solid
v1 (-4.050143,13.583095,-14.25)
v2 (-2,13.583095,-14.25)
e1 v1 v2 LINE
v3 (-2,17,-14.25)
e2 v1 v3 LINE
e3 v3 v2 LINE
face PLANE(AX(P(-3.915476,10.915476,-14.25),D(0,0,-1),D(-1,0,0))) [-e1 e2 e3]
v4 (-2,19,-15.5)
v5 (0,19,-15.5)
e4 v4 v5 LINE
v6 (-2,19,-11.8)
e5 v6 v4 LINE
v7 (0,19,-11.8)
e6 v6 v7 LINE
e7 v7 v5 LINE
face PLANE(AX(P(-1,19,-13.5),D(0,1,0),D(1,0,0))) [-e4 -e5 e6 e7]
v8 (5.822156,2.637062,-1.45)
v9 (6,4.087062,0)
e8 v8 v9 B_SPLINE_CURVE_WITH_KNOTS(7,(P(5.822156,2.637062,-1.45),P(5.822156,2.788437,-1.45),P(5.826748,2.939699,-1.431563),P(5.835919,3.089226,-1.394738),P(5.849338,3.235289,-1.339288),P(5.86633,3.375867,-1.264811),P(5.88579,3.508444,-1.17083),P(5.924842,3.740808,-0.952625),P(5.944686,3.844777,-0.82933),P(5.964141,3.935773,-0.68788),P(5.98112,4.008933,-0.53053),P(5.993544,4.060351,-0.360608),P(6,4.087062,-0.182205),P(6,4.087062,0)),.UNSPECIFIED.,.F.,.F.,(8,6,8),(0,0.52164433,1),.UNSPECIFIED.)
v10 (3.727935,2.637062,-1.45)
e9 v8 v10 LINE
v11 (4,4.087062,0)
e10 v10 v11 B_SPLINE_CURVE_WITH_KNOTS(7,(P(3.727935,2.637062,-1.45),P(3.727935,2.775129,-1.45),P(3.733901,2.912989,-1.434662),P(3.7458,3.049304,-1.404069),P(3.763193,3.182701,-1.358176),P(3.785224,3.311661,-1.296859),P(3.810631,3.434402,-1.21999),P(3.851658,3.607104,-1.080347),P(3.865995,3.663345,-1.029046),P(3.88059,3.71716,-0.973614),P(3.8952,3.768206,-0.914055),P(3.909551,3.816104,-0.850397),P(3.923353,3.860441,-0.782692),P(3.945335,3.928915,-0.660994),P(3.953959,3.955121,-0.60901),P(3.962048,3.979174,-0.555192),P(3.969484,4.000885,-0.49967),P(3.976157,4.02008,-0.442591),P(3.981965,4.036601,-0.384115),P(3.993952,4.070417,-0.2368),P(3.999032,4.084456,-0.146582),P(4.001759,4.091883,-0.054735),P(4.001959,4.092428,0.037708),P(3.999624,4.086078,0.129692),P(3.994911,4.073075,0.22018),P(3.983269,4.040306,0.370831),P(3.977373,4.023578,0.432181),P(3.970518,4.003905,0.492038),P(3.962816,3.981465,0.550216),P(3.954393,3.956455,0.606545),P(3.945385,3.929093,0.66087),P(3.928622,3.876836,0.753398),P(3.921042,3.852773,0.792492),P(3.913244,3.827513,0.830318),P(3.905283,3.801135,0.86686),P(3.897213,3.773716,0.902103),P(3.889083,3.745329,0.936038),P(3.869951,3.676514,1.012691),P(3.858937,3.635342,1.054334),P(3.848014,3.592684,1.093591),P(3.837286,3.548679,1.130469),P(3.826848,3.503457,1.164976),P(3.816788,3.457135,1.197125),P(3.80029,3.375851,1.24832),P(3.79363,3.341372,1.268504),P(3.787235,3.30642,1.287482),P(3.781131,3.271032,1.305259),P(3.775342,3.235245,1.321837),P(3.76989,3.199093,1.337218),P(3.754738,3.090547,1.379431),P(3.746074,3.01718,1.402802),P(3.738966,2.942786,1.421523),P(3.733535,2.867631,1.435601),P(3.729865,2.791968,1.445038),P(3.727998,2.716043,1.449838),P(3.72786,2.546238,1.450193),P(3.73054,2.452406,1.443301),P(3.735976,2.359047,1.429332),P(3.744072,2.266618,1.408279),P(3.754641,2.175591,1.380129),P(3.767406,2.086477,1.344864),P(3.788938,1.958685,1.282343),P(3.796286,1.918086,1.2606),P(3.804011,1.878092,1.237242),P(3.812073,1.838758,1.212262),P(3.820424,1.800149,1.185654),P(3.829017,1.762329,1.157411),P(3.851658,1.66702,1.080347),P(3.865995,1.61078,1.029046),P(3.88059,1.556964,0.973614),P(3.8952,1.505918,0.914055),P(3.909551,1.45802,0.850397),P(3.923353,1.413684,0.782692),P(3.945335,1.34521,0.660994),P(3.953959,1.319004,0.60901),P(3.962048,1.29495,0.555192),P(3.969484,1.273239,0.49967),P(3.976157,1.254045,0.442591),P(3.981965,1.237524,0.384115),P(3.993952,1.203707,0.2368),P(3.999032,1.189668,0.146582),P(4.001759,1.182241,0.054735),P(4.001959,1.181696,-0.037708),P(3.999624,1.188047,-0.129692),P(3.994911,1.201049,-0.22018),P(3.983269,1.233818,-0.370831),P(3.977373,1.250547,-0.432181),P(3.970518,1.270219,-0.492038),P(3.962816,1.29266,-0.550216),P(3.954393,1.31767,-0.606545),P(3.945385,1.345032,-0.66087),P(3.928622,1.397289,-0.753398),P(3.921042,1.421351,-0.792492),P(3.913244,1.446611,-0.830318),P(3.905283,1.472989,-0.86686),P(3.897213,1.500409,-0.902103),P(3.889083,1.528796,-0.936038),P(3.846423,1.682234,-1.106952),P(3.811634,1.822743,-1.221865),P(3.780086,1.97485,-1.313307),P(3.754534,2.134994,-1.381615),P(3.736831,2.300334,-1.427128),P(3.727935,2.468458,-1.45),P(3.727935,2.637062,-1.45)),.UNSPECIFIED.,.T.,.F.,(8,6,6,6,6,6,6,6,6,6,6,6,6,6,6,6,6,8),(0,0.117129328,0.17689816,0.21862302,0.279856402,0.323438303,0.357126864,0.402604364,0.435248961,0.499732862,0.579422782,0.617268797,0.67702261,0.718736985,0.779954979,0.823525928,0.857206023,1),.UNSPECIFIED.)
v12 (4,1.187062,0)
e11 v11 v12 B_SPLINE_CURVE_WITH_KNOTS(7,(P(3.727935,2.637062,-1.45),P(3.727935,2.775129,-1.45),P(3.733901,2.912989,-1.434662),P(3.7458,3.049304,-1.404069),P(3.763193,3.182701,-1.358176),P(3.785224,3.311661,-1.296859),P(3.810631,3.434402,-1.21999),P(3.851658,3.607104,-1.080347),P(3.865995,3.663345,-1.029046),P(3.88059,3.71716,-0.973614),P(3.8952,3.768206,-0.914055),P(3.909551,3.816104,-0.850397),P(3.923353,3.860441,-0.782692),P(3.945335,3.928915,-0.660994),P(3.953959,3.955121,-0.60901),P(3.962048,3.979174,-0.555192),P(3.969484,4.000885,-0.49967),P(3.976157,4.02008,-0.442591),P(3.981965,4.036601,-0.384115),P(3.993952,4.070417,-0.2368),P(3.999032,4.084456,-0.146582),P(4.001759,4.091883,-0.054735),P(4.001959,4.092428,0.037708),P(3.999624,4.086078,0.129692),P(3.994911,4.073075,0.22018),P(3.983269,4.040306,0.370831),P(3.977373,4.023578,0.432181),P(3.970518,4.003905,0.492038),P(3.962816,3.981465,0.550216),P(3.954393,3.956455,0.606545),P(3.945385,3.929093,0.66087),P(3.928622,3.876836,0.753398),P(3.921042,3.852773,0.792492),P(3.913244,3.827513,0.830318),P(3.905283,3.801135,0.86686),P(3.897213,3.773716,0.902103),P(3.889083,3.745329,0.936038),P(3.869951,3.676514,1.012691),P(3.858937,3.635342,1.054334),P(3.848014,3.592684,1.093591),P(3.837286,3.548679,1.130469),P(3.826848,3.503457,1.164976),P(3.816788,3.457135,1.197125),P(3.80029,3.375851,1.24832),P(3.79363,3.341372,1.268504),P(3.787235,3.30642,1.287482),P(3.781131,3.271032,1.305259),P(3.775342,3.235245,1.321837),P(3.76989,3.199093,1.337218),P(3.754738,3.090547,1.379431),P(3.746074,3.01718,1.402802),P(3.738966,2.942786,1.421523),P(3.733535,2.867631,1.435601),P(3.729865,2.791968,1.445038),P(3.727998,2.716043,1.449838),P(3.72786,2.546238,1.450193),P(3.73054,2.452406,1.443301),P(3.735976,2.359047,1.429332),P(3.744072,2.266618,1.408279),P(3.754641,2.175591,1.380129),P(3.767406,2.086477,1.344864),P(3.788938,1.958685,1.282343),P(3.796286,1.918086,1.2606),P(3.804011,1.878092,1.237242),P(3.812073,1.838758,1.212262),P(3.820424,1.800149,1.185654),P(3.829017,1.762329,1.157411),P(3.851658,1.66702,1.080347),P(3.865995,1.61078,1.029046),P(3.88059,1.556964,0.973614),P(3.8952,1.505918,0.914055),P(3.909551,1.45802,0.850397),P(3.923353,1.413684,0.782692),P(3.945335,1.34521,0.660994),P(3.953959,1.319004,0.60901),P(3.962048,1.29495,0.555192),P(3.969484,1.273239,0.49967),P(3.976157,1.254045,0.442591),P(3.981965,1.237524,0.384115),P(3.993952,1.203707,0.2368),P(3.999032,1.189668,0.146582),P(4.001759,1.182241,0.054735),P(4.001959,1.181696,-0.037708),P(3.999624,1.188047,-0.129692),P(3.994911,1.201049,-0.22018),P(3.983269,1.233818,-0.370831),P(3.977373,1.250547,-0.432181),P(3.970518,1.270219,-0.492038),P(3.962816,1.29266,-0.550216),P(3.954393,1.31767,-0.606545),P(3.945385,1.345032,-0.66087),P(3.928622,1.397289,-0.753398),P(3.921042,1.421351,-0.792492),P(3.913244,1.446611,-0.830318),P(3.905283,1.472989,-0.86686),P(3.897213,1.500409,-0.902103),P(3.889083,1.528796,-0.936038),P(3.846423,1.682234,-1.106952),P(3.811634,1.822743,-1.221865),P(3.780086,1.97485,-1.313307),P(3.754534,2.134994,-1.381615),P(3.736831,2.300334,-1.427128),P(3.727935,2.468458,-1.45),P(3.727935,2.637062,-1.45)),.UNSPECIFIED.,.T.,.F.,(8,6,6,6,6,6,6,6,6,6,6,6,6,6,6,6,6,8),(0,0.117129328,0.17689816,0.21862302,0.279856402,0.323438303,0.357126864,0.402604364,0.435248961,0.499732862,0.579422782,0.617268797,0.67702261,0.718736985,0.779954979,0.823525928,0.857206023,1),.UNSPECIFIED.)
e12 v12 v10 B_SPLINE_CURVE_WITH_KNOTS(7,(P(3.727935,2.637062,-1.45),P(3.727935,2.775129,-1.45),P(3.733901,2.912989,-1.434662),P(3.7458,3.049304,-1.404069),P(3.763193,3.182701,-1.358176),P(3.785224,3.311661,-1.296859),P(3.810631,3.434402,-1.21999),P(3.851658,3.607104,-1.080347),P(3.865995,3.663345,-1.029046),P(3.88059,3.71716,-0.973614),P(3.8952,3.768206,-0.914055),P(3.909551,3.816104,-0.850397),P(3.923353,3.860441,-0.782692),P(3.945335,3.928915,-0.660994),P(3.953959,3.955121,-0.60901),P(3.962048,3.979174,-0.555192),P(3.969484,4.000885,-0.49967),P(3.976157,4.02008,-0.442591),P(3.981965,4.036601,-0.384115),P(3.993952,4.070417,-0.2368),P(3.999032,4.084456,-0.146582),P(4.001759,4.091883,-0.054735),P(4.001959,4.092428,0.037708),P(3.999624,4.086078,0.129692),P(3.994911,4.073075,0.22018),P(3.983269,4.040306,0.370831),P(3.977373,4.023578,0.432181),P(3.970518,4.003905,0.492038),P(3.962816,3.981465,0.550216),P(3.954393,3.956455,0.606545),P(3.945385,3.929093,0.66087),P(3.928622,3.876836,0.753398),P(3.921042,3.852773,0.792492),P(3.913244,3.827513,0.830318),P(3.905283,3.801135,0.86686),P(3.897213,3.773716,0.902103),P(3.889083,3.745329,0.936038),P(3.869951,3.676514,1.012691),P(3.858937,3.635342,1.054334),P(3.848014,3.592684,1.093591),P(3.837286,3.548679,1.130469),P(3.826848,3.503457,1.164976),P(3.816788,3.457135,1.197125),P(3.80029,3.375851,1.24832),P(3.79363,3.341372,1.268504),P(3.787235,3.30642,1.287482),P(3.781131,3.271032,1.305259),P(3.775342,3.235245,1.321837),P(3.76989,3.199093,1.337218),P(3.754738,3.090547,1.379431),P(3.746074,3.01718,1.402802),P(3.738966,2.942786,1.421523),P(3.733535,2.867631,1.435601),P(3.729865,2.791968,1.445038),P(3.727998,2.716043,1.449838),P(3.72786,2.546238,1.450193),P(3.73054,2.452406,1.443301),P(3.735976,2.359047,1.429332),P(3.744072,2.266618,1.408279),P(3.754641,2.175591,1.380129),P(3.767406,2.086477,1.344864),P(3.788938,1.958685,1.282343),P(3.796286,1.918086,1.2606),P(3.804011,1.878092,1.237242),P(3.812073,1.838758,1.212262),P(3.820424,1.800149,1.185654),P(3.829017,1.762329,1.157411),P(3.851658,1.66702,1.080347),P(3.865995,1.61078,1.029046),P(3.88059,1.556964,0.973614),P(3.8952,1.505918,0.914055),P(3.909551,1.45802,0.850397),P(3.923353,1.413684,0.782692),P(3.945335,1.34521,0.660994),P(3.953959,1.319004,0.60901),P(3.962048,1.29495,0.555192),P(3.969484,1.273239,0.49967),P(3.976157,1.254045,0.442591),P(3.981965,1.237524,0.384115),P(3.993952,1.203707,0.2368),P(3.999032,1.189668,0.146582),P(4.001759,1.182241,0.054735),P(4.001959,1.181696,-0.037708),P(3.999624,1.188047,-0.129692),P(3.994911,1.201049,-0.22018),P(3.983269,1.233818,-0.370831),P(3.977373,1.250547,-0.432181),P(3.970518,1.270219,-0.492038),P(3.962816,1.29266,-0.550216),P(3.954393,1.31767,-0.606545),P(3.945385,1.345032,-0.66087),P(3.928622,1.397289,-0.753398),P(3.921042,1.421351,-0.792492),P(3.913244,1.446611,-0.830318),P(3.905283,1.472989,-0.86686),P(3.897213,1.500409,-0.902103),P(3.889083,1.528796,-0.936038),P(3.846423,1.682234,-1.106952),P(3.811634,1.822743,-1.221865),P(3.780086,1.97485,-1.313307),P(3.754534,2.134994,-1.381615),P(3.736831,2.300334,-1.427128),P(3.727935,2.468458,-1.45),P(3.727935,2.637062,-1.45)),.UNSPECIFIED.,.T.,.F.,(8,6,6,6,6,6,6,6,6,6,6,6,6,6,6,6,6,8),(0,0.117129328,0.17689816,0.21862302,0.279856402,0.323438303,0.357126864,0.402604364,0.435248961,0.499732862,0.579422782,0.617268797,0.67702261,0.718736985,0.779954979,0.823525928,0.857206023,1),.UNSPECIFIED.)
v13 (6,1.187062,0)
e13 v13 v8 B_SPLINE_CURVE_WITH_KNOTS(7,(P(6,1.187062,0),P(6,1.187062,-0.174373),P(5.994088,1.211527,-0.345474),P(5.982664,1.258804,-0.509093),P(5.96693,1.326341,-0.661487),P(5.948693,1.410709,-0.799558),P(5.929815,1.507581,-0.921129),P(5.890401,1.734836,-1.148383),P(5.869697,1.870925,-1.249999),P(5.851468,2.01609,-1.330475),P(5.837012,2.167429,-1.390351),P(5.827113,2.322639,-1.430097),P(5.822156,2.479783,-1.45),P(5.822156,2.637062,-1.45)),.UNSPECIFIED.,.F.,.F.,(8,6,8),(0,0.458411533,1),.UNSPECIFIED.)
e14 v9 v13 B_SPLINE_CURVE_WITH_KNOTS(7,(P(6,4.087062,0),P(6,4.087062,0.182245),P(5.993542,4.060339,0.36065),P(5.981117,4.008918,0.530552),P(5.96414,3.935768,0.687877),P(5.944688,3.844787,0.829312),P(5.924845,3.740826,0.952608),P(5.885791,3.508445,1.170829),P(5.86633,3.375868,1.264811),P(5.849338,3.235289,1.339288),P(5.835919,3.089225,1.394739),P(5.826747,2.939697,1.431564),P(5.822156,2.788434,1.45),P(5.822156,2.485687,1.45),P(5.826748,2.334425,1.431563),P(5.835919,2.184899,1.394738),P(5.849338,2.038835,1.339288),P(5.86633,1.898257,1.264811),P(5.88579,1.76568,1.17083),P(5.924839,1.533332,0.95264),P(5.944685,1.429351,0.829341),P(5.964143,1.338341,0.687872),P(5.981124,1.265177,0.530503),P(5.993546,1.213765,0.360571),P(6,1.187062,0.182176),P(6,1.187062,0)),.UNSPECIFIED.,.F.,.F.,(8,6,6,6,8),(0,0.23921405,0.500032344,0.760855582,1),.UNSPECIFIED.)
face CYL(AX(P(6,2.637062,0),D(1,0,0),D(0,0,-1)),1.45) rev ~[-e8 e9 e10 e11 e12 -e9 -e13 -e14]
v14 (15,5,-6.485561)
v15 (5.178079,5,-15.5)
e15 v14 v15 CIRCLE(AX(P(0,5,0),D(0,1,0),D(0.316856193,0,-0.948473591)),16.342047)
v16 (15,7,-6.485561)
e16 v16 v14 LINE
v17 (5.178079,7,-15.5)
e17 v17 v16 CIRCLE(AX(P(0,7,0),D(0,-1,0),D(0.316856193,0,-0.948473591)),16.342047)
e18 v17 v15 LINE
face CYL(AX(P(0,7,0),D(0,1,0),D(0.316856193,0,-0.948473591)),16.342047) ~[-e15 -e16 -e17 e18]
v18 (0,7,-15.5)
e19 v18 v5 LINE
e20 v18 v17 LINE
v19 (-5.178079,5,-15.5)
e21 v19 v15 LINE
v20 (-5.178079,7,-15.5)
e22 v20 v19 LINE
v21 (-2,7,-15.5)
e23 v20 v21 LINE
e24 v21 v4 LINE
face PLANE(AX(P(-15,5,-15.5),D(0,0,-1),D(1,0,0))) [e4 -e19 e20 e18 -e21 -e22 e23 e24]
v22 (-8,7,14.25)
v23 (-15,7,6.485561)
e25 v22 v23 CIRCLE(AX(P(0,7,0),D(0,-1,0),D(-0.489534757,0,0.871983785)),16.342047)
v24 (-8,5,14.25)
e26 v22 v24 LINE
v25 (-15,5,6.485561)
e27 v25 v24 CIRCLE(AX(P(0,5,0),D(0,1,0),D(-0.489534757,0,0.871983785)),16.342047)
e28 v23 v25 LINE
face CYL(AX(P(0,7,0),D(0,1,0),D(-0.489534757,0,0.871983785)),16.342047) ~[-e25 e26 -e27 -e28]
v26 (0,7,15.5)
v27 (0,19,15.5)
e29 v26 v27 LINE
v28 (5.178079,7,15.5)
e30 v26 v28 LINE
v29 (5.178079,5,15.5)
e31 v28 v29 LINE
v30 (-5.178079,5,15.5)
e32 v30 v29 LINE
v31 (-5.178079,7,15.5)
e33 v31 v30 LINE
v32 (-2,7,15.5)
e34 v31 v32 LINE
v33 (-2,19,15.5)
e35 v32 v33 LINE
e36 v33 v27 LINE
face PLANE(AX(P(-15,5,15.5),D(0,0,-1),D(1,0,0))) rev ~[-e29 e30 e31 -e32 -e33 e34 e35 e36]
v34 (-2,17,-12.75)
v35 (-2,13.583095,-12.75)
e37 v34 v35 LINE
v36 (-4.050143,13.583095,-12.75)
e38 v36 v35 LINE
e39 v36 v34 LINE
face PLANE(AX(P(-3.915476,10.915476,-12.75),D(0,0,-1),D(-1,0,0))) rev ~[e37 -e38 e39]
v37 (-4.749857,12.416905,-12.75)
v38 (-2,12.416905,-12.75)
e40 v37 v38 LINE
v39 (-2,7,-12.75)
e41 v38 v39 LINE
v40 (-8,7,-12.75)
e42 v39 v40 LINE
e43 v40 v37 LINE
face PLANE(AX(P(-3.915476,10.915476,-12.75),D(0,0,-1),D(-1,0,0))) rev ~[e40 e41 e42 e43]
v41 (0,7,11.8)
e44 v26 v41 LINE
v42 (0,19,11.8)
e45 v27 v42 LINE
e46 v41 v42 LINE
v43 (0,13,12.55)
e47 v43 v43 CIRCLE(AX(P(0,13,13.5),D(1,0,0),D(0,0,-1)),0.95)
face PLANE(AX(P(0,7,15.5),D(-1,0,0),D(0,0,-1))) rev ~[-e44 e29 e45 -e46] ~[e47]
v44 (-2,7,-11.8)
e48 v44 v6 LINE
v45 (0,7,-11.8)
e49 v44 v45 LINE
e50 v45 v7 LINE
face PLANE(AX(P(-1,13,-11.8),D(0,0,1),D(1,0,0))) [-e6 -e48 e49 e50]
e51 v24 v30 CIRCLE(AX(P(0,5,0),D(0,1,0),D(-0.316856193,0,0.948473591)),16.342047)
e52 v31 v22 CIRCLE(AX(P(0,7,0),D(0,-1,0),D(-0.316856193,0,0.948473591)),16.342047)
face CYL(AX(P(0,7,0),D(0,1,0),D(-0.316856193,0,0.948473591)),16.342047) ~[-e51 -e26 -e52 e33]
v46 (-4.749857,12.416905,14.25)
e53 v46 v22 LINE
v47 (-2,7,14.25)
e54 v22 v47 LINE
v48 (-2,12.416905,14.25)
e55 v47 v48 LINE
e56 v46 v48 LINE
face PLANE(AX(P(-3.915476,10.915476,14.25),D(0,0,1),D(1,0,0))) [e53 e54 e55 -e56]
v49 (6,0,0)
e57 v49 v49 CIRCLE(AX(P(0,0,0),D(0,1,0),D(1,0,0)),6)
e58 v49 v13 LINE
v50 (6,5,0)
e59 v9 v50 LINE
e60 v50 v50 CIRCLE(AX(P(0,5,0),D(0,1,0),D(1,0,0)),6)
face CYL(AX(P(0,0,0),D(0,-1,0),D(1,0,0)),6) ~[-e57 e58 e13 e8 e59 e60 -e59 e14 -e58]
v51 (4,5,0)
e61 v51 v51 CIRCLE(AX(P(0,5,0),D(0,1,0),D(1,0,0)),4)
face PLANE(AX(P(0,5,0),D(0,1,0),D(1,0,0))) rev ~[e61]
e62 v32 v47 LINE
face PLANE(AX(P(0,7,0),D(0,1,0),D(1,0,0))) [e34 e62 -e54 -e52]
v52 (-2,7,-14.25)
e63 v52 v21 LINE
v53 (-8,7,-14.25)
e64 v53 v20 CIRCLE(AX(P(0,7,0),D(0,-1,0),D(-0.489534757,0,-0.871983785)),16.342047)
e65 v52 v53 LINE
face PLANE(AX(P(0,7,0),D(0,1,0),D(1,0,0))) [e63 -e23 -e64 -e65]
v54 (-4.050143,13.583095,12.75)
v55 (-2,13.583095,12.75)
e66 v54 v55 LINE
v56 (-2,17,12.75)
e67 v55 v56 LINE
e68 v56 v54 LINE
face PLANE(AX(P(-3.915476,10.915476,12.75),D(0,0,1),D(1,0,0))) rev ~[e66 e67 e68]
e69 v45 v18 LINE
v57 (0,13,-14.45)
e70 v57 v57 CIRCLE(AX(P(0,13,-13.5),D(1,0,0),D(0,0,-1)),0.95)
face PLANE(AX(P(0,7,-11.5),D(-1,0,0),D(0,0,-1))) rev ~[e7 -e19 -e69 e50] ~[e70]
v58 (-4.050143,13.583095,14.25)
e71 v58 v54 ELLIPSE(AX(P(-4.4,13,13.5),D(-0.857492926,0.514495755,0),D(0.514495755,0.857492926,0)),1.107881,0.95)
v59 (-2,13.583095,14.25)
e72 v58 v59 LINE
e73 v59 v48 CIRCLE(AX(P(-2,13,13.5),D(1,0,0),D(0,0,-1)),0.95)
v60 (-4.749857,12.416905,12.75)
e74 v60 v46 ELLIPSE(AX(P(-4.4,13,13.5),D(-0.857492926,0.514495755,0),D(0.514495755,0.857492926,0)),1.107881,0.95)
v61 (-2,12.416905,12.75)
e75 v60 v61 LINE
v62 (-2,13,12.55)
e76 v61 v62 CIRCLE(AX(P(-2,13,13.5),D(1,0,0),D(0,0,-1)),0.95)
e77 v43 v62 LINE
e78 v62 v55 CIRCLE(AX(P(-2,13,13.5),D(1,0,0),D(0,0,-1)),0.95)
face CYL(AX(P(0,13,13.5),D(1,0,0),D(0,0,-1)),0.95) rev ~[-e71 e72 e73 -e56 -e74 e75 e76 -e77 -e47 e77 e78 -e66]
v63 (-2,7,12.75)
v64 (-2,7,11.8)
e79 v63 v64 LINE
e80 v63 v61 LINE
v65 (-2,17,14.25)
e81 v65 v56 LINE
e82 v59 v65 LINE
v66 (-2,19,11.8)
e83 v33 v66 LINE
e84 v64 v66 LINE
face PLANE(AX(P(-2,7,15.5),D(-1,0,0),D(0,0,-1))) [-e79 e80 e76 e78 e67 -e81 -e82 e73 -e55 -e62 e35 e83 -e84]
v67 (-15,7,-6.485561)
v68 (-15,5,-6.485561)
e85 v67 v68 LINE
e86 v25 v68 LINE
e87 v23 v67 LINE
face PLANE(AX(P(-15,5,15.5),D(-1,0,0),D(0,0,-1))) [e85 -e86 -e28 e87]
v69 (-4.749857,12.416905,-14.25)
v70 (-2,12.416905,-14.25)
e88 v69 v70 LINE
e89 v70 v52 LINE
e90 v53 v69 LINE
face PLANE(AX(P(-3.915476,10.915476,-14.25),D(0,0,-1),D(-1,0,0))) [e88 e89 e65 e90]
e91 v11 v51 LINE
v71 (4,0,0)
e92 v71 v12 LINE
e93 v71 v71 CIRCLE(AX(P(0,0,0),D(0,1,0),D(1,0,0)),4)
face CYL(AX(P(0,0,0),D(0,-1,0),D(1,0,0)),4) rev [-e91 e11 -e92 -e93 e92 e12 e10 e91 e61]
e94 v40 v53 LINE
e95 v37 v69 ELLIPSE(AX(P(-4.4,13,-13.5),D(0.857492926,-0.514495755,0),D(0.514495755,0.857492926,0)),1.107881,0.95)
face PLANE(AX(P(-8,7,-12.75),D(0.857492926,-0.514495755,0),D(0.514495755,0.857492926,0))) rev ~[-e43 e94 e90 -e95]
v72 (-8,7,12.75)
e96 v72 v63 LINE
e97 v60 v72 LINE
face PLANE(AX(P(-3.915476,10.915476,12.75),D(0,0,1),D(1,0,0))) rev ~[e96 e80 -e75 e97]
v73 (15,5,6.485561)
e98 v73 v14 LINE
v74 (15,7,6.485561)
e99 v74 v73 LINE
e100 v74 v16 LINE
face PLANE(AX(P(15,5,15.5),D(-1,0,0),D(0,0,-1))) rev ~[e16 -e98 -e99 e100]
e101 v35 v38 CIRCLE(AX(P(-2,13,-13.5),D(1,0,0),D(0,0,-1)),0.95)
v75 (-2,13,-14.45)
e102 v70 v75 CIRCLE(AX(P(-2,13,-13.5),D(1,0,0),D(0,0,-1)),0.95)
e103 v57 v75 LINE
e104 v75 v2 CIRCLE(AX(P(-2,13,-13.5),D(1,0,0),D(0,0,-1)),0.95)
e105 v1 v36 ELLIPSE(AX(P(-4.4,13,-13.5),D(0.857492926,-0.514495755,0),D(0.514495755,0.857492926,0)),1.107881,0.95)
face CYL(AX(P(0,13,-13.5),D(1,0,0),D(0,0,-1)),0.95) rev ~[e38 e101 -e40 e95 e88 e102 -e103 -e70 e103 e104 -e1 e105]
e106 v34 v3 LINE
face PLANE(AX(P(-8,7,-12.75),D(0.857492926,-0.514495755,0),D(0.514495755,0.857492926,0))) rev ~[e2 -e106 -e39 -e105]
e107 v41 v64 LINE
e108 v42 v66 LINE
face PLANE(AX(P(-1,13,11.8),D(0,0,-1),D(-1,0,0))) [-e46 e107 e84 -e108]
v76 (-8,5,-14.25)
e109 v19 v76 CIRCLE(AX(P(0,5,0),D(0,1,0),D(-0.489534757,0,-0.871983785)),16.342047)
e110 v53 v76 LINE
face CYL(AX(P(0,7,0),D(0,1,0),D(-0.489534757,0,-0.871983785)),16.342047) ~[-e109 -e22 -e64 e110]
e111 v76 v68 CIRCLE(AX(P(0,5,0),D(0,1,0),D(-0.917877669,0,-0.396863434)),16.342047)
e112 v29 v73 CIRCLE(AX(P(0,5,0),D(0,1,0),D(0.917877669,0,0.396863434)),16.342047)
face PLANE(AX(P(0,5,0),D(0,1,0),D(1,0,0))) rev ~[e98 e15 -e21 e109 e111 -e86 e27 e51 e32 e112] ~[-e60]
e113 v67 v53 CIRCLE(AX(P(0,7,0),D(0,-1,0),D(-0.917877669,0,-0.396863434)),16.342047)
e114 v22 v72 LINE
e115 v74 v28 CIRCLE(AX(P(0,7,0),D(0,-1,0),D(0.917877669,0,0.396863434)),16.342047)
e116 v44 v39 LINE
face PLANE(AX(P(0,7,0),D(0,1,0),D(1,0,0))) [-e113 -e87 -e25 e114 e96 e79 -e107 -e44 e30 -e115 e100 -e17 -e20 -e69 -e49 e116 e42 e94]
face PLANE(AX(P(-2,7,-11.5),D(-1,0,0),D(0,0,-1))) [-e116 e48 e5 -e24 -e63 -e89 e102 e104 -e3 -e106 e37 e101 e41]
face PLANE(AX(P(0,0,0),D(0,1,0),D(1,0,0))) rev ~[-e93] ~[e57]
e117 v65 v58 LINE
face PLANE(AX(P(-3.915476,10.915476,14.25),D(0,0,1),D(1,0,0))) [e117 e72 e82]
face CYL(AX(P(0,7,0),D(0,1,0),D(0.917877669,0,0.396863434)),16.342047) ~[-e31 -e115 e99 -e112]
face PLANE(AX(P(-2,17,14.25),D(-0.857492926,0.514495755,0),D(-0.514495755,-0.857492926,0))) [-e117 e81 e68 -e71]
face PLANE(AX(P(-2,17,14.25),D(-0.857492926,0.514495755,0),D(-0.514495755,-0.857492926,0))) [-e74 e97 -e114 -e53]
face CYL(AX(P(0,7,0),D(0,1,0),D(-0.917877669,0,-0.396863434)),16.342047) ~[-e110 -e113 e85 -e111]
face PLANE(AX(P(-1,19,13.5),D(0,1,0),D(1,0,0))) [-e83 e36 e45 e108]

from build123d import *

# Parameters (mm, degrees)
SKETCH_1_R               = 6
SKETCH_1_R_2             = 4
EXTRUDE_1_DEPTH          = 5
CUT_EXTRUDE_1_REACH      = 16.318
CUT_EXTRUDE_1_END_RADIUS = 4
SKETCH_2_R               = 1.45
SKETCH_3_W               = 30
SKETCH_3_H               = 31
SKETCH_3_R               = 6
EXTRUDE_1_2_DEPTH        = 2
SKETCH_6_W               = 2
SKETCH_6_H               = 4
EXTRUDE_2_DEPTH          = 12
EXTRUDE_3_DEPTH          = 1.5
EXTRUDE_START            = -1.25
EXTRUDE_4_DEPTH          = 1.5
CUT_EXTRUDE_3_REACH      = 30.745
SKETCH_11_R              = 0.95
CUT_EXTRUDE_4_REACH      = 30.745
SKETCH_12_R              = 0.95
CUT_EXTRUDE_5_REACH      = 26.683
SKETCH_14_W              = 2
SKETCH_14_H              = 12
CUT_EXTRUDE_6_DEPTH      = 0.3
SKETCH_15_W              = 2
SKETCH_15_H              = 12
CUT_EXTRUDE_7_DEPTH      = 0.3


with BuildPart() as part:
    # 草图1 → Extrude 1 (new body)
    with BuildSketch(Plane(origin=(0, 0, 0), x_dir=(1, 0, 0), z_dir=(0, 1, 0))):
        Circle(SKETCH_1_R)
        Circle(SKETCH_1_R_2, mode=Mode.SUBTRACT)
    extrude(amount=EXTRUDE_1_DEPTH)

    # 切除-拉伸1: up to this cylinder (the profile starts outside it)
    cut_extrude_1_end = Plane(origin=(0, 2.637062, 0), z_dir=(0, -1, 0)) * Cylinder(CUT_EXTRUDE_1_END_RADIUS, 41.636, mode=Mode.PRIVATE)
    # 草图2 → 切除-拉伸1 (cut, up to the surface)
    with BuildSketch(Plane(origin=(6, 0, 0), x_dir=(0, 0, -1), z_dir=(1, 0, 0)), mode=Mode.PRIVATE) as cut_extrude_1_sk1:
        with Locations((0, 2.637062232)):
            Circle(SKETCH_2_R)
    cut_extrude_1_tool1 = extrude(cut_extrude_1_sk1.sketch, amount=-CUT_EXTRUDE_1_REACH, mode=Mode.PRIVATE) - cut_extrude_1_end
    add(cut_extrude_1_tool1.solids().sort_by_distance((6, 2.637062, 0))[0], mode=Mode.SUBTRACT)

    # 草图3 → Extrude 1 2 (add)
    # profile 1 of 2: a face of its own
    with BuildSketch(Plane(origin=(0, 5, 0), x_dir=(1, 0, 0), z_dir=(0, 1, 0))):
        Rectangle(SKETCH_3_W, SKETCH_3_H)
        Circle(SKETCH_3_R, mode=Mode.SUBTRACT)
    # profile 2 of 2: a face of its own
    with BuildSketch(Plane(origin=(0, 5, 0), x_dir=(1, 0, 0), z_dir=(0, 1, 0))):
        Circle(SKETCH_3_R)
    extrude(amount=EXTRUDE_1_2_DEPTH)

    # 草图6 → 凸台-拉伸2 (add)
    with BuildSketch(Plane(origin=(0, 7, 0), x_dir=(1, 0, 0), z_dir=(0, 1, 0))):
        with Locations((-1, 13.5)):
            Rectangle(SKETCH_6_W, SKETCH_6_H)
        with Locations((-1, -13.5)):
            Rectangle(SKETCH_6_W, SKETCH_6_H)
    extrude(amount=EXTRUDE_2_DEPTH)

    # 草图9 → 凸台-拉伸3 (add)
    with BuildSketch(Plane.XY.offset(-12.75)):
        Polygon((-2, 7), (-8, 7), (-2, 17), align=None)
    extrude(amount=-EXTRUDE_3_DEPTH)

    # 草图10 → 凸台-拉伸4 (add)
    with BuildSketch(Plane.XY.offset(15.5).offset(EXTRUDE_START)):
        Polygon((-2, 7), (-2, 17), (-8, 7), align=None)
    extrude(amount=-EXTRUDE_4_DEPTH)

    # 草图11 → 切除-拉伸3 (cut, up to next)
    with BuildSketch(Plane(origin=(0, 0, 0), x_dir=(0, 0, -1), z_dir=(1, 0, 0)), mode=Mode.PRIVATE) as cut_extrude_3_sk1:
        with Locations((-13.5, 13)):
            Circle(SKETCH_11_R)
    cut_extrude_3_tool1 = extrude(cut_extrude_3_sk1.sketch, amount=-CUT_EXTRUDE_3_REACH, mode=Mode.PRIVATE) & part.part
    add(cut_extrude_3_tool1.solids().sort_by_distance((0, 13, 13.5))[0], mode=Mode.SUBTRACT)

    # 草图12 → 切除-拉伸4 (cut, up to next)
    with BuildSketch(Plane(origin=(0, 0, 0), x_dir=(0, 0, -1), z_dir=(1, 0, 0)), mode=Mode.PRIVATE) as cut_extrude_4_sk1:
        with Locations((13.5, 13)):
            Circle(SKETCH_12_R)
    cut_extrude_4_tool1 = extrude(cut_extrude_4_sk1.sketch, amount=-CUT_EXTRUDE_4_REACH, mode=Mode.PRIVATE) & part.part
    add(cut_extrude_4_tool1.solids().sort_by_distance((0, 13, -13.5))[0], mode=Mode.SUBTRACT)

    # 草图13 → 切除-拉伸5 (cut, up to next)
    with BuildSketch(Plane(origin=(0, 7, 0), x_dir=(1, 0, 0), z_dir=(0, 1, 0)), mode=Mode.PRIVATE) as cut_extrude_5_sk1:
        with BuildLine():
            ThreePointArc((-5.178078794, -15.5), (-6.61861505, -14.941768129), (-8, -14.25))
            ThreePointArc((-8, -14.25), (-12.137612149, -10.942617206), (-15, -6.485560886))
            Line((-15, -6.485560886), (-15, -15.5))
            Line((-15, -15.5), (-5.178078794, -15.5))
        make_face()
    cut_extrude_5_tool1 = extrude(cut_extrude_5_sk1.sketch, amount=-CUT_EXTRUDE_5_REACH, mode=Mode.PRIVATE) & part.part
    # 草图13 → 切除-拉伸5 (cut, up to next)
    with BuildSketch(Plane(origin=(0, 7, 0), x_dir=(1, 0, 0), z_dir=(0, 1, 0)), mode=Mode.PRIVATE) as cut_extrude_5_sk2:
        with BuildLine():
            ThreePointArc((15, -6.485560886), (11.050056294, -12.039881889), (5.178078794, -15.5))
            Line((5.178078794, -15.5), (15, -15.5))
            Line((15, -15.5), (15, -6.485560886))
        make_face()
    cut_extrude_5_tool2 = extrude(cut_extrude_5_sk2.sketch, amount=-CUT_EXTRUDE_5_REACH, mode=Mode.PRIVATE) & part.part
    # 草图13 → 切除-拉伸5 (cut, up to next)
    with BuildSketch(Plane(origin=(0, 7, 0), x_dir=(1, 0, 0), z_dir=(0, 1, 0)), mode=Mode.PRIVATE) as cut_extrude_5_sk3:
        with BuildLine():
            ThreePointArc((5.178078794, 15.5), (11.050056294, 12.039881889), (15, 6.485560886))
            Line((15, 6.485560886), (15, 15.5))
            Line((15, 15.5), (5.178078794, 15.5))
        make_face()
    cut_extrude_5_tool3 = extrude(cut_extrude_5_sk3.sketch, amount=-CUT_EXTRUDE_5_REACH, mode=Mode.PRIVATE) & part.part
    # 草图13 → 切除-拉伸5 (cut, up to next)
    with BuildSketch(Plane(origin=(0, 7, 0), x_dir=(1, 0, 0), z_dir=(0, 1, 0)), mode=Mode.PRIVATE) as cut_extrude_5_sk4:
        with BuildLine():
            Line((-15, 15.5), (-15, 6.485560886))
            ThreePointArc((-15, 6.485560886), (-12.137612149, 10.942617206), (-8, 14.25))
            ThreePointArc((-8, 14.25), (-6.61861505, 14.941768129), (-5.178078794, 15.5))
            Line((-5.178078794, 15.5), (-15, 15.5))
        make_face()
    cut_extrude_5_tool4 = extrude(cut_extrude_5_sk4.sketch, amount=-CUT_EXTRUDE_5_REACH, mode=Mode.PRIVATE) & part.part
    add(cut_extrude_5_tool1.solids().sort_by_distance((-12.231882, 7, 12.932652))[0], mode=Mode.SUBTRACT)
    add(cut_extrude_5_tool2.solids().sort_by_distance((12.231882, 7, 12.932652))[0], mode=Mode.SUBTRACT)
    add(cut_extrude_5_tool3.solids().sort_by_distance((12.231882, 7, -12.932652))[0], mode=Mode.SUBTRACT)
    add(cut_extrude_5_tool4.solids().sort_by_distance((-12.231882, 7, -12.932652))[0], mode=Mode.SUBTRACT)

    # 草图14 → 切除-拉伸6 (cut)
    with BuildSketch(Plane(origin=(0, 0, 11.5), x_dir=(-1, 0, 0), z_dir=(0, 0, -1))):
        with Locations((1, 13)):
            Rectangle(SKETCH_14_W, SKETCH_14_H)
    extrude(amount=-CUT_EXTRUDE_6_DEPTH, mode=Mode.SUBTRACT)

    # 草图15 → 切除-拉伸7 (cut)
    with BuildSketch(Plane.XY.offset(-11.5)):
        with Locations((-1, 13)):
            Rectangle(SKETCH_15_W, SKETCH_15_H)
    extrude(amount=-CUT_EXTRUDE_7_DEPTH, mode=Mode.SUBTRACT)


solid = part.part
